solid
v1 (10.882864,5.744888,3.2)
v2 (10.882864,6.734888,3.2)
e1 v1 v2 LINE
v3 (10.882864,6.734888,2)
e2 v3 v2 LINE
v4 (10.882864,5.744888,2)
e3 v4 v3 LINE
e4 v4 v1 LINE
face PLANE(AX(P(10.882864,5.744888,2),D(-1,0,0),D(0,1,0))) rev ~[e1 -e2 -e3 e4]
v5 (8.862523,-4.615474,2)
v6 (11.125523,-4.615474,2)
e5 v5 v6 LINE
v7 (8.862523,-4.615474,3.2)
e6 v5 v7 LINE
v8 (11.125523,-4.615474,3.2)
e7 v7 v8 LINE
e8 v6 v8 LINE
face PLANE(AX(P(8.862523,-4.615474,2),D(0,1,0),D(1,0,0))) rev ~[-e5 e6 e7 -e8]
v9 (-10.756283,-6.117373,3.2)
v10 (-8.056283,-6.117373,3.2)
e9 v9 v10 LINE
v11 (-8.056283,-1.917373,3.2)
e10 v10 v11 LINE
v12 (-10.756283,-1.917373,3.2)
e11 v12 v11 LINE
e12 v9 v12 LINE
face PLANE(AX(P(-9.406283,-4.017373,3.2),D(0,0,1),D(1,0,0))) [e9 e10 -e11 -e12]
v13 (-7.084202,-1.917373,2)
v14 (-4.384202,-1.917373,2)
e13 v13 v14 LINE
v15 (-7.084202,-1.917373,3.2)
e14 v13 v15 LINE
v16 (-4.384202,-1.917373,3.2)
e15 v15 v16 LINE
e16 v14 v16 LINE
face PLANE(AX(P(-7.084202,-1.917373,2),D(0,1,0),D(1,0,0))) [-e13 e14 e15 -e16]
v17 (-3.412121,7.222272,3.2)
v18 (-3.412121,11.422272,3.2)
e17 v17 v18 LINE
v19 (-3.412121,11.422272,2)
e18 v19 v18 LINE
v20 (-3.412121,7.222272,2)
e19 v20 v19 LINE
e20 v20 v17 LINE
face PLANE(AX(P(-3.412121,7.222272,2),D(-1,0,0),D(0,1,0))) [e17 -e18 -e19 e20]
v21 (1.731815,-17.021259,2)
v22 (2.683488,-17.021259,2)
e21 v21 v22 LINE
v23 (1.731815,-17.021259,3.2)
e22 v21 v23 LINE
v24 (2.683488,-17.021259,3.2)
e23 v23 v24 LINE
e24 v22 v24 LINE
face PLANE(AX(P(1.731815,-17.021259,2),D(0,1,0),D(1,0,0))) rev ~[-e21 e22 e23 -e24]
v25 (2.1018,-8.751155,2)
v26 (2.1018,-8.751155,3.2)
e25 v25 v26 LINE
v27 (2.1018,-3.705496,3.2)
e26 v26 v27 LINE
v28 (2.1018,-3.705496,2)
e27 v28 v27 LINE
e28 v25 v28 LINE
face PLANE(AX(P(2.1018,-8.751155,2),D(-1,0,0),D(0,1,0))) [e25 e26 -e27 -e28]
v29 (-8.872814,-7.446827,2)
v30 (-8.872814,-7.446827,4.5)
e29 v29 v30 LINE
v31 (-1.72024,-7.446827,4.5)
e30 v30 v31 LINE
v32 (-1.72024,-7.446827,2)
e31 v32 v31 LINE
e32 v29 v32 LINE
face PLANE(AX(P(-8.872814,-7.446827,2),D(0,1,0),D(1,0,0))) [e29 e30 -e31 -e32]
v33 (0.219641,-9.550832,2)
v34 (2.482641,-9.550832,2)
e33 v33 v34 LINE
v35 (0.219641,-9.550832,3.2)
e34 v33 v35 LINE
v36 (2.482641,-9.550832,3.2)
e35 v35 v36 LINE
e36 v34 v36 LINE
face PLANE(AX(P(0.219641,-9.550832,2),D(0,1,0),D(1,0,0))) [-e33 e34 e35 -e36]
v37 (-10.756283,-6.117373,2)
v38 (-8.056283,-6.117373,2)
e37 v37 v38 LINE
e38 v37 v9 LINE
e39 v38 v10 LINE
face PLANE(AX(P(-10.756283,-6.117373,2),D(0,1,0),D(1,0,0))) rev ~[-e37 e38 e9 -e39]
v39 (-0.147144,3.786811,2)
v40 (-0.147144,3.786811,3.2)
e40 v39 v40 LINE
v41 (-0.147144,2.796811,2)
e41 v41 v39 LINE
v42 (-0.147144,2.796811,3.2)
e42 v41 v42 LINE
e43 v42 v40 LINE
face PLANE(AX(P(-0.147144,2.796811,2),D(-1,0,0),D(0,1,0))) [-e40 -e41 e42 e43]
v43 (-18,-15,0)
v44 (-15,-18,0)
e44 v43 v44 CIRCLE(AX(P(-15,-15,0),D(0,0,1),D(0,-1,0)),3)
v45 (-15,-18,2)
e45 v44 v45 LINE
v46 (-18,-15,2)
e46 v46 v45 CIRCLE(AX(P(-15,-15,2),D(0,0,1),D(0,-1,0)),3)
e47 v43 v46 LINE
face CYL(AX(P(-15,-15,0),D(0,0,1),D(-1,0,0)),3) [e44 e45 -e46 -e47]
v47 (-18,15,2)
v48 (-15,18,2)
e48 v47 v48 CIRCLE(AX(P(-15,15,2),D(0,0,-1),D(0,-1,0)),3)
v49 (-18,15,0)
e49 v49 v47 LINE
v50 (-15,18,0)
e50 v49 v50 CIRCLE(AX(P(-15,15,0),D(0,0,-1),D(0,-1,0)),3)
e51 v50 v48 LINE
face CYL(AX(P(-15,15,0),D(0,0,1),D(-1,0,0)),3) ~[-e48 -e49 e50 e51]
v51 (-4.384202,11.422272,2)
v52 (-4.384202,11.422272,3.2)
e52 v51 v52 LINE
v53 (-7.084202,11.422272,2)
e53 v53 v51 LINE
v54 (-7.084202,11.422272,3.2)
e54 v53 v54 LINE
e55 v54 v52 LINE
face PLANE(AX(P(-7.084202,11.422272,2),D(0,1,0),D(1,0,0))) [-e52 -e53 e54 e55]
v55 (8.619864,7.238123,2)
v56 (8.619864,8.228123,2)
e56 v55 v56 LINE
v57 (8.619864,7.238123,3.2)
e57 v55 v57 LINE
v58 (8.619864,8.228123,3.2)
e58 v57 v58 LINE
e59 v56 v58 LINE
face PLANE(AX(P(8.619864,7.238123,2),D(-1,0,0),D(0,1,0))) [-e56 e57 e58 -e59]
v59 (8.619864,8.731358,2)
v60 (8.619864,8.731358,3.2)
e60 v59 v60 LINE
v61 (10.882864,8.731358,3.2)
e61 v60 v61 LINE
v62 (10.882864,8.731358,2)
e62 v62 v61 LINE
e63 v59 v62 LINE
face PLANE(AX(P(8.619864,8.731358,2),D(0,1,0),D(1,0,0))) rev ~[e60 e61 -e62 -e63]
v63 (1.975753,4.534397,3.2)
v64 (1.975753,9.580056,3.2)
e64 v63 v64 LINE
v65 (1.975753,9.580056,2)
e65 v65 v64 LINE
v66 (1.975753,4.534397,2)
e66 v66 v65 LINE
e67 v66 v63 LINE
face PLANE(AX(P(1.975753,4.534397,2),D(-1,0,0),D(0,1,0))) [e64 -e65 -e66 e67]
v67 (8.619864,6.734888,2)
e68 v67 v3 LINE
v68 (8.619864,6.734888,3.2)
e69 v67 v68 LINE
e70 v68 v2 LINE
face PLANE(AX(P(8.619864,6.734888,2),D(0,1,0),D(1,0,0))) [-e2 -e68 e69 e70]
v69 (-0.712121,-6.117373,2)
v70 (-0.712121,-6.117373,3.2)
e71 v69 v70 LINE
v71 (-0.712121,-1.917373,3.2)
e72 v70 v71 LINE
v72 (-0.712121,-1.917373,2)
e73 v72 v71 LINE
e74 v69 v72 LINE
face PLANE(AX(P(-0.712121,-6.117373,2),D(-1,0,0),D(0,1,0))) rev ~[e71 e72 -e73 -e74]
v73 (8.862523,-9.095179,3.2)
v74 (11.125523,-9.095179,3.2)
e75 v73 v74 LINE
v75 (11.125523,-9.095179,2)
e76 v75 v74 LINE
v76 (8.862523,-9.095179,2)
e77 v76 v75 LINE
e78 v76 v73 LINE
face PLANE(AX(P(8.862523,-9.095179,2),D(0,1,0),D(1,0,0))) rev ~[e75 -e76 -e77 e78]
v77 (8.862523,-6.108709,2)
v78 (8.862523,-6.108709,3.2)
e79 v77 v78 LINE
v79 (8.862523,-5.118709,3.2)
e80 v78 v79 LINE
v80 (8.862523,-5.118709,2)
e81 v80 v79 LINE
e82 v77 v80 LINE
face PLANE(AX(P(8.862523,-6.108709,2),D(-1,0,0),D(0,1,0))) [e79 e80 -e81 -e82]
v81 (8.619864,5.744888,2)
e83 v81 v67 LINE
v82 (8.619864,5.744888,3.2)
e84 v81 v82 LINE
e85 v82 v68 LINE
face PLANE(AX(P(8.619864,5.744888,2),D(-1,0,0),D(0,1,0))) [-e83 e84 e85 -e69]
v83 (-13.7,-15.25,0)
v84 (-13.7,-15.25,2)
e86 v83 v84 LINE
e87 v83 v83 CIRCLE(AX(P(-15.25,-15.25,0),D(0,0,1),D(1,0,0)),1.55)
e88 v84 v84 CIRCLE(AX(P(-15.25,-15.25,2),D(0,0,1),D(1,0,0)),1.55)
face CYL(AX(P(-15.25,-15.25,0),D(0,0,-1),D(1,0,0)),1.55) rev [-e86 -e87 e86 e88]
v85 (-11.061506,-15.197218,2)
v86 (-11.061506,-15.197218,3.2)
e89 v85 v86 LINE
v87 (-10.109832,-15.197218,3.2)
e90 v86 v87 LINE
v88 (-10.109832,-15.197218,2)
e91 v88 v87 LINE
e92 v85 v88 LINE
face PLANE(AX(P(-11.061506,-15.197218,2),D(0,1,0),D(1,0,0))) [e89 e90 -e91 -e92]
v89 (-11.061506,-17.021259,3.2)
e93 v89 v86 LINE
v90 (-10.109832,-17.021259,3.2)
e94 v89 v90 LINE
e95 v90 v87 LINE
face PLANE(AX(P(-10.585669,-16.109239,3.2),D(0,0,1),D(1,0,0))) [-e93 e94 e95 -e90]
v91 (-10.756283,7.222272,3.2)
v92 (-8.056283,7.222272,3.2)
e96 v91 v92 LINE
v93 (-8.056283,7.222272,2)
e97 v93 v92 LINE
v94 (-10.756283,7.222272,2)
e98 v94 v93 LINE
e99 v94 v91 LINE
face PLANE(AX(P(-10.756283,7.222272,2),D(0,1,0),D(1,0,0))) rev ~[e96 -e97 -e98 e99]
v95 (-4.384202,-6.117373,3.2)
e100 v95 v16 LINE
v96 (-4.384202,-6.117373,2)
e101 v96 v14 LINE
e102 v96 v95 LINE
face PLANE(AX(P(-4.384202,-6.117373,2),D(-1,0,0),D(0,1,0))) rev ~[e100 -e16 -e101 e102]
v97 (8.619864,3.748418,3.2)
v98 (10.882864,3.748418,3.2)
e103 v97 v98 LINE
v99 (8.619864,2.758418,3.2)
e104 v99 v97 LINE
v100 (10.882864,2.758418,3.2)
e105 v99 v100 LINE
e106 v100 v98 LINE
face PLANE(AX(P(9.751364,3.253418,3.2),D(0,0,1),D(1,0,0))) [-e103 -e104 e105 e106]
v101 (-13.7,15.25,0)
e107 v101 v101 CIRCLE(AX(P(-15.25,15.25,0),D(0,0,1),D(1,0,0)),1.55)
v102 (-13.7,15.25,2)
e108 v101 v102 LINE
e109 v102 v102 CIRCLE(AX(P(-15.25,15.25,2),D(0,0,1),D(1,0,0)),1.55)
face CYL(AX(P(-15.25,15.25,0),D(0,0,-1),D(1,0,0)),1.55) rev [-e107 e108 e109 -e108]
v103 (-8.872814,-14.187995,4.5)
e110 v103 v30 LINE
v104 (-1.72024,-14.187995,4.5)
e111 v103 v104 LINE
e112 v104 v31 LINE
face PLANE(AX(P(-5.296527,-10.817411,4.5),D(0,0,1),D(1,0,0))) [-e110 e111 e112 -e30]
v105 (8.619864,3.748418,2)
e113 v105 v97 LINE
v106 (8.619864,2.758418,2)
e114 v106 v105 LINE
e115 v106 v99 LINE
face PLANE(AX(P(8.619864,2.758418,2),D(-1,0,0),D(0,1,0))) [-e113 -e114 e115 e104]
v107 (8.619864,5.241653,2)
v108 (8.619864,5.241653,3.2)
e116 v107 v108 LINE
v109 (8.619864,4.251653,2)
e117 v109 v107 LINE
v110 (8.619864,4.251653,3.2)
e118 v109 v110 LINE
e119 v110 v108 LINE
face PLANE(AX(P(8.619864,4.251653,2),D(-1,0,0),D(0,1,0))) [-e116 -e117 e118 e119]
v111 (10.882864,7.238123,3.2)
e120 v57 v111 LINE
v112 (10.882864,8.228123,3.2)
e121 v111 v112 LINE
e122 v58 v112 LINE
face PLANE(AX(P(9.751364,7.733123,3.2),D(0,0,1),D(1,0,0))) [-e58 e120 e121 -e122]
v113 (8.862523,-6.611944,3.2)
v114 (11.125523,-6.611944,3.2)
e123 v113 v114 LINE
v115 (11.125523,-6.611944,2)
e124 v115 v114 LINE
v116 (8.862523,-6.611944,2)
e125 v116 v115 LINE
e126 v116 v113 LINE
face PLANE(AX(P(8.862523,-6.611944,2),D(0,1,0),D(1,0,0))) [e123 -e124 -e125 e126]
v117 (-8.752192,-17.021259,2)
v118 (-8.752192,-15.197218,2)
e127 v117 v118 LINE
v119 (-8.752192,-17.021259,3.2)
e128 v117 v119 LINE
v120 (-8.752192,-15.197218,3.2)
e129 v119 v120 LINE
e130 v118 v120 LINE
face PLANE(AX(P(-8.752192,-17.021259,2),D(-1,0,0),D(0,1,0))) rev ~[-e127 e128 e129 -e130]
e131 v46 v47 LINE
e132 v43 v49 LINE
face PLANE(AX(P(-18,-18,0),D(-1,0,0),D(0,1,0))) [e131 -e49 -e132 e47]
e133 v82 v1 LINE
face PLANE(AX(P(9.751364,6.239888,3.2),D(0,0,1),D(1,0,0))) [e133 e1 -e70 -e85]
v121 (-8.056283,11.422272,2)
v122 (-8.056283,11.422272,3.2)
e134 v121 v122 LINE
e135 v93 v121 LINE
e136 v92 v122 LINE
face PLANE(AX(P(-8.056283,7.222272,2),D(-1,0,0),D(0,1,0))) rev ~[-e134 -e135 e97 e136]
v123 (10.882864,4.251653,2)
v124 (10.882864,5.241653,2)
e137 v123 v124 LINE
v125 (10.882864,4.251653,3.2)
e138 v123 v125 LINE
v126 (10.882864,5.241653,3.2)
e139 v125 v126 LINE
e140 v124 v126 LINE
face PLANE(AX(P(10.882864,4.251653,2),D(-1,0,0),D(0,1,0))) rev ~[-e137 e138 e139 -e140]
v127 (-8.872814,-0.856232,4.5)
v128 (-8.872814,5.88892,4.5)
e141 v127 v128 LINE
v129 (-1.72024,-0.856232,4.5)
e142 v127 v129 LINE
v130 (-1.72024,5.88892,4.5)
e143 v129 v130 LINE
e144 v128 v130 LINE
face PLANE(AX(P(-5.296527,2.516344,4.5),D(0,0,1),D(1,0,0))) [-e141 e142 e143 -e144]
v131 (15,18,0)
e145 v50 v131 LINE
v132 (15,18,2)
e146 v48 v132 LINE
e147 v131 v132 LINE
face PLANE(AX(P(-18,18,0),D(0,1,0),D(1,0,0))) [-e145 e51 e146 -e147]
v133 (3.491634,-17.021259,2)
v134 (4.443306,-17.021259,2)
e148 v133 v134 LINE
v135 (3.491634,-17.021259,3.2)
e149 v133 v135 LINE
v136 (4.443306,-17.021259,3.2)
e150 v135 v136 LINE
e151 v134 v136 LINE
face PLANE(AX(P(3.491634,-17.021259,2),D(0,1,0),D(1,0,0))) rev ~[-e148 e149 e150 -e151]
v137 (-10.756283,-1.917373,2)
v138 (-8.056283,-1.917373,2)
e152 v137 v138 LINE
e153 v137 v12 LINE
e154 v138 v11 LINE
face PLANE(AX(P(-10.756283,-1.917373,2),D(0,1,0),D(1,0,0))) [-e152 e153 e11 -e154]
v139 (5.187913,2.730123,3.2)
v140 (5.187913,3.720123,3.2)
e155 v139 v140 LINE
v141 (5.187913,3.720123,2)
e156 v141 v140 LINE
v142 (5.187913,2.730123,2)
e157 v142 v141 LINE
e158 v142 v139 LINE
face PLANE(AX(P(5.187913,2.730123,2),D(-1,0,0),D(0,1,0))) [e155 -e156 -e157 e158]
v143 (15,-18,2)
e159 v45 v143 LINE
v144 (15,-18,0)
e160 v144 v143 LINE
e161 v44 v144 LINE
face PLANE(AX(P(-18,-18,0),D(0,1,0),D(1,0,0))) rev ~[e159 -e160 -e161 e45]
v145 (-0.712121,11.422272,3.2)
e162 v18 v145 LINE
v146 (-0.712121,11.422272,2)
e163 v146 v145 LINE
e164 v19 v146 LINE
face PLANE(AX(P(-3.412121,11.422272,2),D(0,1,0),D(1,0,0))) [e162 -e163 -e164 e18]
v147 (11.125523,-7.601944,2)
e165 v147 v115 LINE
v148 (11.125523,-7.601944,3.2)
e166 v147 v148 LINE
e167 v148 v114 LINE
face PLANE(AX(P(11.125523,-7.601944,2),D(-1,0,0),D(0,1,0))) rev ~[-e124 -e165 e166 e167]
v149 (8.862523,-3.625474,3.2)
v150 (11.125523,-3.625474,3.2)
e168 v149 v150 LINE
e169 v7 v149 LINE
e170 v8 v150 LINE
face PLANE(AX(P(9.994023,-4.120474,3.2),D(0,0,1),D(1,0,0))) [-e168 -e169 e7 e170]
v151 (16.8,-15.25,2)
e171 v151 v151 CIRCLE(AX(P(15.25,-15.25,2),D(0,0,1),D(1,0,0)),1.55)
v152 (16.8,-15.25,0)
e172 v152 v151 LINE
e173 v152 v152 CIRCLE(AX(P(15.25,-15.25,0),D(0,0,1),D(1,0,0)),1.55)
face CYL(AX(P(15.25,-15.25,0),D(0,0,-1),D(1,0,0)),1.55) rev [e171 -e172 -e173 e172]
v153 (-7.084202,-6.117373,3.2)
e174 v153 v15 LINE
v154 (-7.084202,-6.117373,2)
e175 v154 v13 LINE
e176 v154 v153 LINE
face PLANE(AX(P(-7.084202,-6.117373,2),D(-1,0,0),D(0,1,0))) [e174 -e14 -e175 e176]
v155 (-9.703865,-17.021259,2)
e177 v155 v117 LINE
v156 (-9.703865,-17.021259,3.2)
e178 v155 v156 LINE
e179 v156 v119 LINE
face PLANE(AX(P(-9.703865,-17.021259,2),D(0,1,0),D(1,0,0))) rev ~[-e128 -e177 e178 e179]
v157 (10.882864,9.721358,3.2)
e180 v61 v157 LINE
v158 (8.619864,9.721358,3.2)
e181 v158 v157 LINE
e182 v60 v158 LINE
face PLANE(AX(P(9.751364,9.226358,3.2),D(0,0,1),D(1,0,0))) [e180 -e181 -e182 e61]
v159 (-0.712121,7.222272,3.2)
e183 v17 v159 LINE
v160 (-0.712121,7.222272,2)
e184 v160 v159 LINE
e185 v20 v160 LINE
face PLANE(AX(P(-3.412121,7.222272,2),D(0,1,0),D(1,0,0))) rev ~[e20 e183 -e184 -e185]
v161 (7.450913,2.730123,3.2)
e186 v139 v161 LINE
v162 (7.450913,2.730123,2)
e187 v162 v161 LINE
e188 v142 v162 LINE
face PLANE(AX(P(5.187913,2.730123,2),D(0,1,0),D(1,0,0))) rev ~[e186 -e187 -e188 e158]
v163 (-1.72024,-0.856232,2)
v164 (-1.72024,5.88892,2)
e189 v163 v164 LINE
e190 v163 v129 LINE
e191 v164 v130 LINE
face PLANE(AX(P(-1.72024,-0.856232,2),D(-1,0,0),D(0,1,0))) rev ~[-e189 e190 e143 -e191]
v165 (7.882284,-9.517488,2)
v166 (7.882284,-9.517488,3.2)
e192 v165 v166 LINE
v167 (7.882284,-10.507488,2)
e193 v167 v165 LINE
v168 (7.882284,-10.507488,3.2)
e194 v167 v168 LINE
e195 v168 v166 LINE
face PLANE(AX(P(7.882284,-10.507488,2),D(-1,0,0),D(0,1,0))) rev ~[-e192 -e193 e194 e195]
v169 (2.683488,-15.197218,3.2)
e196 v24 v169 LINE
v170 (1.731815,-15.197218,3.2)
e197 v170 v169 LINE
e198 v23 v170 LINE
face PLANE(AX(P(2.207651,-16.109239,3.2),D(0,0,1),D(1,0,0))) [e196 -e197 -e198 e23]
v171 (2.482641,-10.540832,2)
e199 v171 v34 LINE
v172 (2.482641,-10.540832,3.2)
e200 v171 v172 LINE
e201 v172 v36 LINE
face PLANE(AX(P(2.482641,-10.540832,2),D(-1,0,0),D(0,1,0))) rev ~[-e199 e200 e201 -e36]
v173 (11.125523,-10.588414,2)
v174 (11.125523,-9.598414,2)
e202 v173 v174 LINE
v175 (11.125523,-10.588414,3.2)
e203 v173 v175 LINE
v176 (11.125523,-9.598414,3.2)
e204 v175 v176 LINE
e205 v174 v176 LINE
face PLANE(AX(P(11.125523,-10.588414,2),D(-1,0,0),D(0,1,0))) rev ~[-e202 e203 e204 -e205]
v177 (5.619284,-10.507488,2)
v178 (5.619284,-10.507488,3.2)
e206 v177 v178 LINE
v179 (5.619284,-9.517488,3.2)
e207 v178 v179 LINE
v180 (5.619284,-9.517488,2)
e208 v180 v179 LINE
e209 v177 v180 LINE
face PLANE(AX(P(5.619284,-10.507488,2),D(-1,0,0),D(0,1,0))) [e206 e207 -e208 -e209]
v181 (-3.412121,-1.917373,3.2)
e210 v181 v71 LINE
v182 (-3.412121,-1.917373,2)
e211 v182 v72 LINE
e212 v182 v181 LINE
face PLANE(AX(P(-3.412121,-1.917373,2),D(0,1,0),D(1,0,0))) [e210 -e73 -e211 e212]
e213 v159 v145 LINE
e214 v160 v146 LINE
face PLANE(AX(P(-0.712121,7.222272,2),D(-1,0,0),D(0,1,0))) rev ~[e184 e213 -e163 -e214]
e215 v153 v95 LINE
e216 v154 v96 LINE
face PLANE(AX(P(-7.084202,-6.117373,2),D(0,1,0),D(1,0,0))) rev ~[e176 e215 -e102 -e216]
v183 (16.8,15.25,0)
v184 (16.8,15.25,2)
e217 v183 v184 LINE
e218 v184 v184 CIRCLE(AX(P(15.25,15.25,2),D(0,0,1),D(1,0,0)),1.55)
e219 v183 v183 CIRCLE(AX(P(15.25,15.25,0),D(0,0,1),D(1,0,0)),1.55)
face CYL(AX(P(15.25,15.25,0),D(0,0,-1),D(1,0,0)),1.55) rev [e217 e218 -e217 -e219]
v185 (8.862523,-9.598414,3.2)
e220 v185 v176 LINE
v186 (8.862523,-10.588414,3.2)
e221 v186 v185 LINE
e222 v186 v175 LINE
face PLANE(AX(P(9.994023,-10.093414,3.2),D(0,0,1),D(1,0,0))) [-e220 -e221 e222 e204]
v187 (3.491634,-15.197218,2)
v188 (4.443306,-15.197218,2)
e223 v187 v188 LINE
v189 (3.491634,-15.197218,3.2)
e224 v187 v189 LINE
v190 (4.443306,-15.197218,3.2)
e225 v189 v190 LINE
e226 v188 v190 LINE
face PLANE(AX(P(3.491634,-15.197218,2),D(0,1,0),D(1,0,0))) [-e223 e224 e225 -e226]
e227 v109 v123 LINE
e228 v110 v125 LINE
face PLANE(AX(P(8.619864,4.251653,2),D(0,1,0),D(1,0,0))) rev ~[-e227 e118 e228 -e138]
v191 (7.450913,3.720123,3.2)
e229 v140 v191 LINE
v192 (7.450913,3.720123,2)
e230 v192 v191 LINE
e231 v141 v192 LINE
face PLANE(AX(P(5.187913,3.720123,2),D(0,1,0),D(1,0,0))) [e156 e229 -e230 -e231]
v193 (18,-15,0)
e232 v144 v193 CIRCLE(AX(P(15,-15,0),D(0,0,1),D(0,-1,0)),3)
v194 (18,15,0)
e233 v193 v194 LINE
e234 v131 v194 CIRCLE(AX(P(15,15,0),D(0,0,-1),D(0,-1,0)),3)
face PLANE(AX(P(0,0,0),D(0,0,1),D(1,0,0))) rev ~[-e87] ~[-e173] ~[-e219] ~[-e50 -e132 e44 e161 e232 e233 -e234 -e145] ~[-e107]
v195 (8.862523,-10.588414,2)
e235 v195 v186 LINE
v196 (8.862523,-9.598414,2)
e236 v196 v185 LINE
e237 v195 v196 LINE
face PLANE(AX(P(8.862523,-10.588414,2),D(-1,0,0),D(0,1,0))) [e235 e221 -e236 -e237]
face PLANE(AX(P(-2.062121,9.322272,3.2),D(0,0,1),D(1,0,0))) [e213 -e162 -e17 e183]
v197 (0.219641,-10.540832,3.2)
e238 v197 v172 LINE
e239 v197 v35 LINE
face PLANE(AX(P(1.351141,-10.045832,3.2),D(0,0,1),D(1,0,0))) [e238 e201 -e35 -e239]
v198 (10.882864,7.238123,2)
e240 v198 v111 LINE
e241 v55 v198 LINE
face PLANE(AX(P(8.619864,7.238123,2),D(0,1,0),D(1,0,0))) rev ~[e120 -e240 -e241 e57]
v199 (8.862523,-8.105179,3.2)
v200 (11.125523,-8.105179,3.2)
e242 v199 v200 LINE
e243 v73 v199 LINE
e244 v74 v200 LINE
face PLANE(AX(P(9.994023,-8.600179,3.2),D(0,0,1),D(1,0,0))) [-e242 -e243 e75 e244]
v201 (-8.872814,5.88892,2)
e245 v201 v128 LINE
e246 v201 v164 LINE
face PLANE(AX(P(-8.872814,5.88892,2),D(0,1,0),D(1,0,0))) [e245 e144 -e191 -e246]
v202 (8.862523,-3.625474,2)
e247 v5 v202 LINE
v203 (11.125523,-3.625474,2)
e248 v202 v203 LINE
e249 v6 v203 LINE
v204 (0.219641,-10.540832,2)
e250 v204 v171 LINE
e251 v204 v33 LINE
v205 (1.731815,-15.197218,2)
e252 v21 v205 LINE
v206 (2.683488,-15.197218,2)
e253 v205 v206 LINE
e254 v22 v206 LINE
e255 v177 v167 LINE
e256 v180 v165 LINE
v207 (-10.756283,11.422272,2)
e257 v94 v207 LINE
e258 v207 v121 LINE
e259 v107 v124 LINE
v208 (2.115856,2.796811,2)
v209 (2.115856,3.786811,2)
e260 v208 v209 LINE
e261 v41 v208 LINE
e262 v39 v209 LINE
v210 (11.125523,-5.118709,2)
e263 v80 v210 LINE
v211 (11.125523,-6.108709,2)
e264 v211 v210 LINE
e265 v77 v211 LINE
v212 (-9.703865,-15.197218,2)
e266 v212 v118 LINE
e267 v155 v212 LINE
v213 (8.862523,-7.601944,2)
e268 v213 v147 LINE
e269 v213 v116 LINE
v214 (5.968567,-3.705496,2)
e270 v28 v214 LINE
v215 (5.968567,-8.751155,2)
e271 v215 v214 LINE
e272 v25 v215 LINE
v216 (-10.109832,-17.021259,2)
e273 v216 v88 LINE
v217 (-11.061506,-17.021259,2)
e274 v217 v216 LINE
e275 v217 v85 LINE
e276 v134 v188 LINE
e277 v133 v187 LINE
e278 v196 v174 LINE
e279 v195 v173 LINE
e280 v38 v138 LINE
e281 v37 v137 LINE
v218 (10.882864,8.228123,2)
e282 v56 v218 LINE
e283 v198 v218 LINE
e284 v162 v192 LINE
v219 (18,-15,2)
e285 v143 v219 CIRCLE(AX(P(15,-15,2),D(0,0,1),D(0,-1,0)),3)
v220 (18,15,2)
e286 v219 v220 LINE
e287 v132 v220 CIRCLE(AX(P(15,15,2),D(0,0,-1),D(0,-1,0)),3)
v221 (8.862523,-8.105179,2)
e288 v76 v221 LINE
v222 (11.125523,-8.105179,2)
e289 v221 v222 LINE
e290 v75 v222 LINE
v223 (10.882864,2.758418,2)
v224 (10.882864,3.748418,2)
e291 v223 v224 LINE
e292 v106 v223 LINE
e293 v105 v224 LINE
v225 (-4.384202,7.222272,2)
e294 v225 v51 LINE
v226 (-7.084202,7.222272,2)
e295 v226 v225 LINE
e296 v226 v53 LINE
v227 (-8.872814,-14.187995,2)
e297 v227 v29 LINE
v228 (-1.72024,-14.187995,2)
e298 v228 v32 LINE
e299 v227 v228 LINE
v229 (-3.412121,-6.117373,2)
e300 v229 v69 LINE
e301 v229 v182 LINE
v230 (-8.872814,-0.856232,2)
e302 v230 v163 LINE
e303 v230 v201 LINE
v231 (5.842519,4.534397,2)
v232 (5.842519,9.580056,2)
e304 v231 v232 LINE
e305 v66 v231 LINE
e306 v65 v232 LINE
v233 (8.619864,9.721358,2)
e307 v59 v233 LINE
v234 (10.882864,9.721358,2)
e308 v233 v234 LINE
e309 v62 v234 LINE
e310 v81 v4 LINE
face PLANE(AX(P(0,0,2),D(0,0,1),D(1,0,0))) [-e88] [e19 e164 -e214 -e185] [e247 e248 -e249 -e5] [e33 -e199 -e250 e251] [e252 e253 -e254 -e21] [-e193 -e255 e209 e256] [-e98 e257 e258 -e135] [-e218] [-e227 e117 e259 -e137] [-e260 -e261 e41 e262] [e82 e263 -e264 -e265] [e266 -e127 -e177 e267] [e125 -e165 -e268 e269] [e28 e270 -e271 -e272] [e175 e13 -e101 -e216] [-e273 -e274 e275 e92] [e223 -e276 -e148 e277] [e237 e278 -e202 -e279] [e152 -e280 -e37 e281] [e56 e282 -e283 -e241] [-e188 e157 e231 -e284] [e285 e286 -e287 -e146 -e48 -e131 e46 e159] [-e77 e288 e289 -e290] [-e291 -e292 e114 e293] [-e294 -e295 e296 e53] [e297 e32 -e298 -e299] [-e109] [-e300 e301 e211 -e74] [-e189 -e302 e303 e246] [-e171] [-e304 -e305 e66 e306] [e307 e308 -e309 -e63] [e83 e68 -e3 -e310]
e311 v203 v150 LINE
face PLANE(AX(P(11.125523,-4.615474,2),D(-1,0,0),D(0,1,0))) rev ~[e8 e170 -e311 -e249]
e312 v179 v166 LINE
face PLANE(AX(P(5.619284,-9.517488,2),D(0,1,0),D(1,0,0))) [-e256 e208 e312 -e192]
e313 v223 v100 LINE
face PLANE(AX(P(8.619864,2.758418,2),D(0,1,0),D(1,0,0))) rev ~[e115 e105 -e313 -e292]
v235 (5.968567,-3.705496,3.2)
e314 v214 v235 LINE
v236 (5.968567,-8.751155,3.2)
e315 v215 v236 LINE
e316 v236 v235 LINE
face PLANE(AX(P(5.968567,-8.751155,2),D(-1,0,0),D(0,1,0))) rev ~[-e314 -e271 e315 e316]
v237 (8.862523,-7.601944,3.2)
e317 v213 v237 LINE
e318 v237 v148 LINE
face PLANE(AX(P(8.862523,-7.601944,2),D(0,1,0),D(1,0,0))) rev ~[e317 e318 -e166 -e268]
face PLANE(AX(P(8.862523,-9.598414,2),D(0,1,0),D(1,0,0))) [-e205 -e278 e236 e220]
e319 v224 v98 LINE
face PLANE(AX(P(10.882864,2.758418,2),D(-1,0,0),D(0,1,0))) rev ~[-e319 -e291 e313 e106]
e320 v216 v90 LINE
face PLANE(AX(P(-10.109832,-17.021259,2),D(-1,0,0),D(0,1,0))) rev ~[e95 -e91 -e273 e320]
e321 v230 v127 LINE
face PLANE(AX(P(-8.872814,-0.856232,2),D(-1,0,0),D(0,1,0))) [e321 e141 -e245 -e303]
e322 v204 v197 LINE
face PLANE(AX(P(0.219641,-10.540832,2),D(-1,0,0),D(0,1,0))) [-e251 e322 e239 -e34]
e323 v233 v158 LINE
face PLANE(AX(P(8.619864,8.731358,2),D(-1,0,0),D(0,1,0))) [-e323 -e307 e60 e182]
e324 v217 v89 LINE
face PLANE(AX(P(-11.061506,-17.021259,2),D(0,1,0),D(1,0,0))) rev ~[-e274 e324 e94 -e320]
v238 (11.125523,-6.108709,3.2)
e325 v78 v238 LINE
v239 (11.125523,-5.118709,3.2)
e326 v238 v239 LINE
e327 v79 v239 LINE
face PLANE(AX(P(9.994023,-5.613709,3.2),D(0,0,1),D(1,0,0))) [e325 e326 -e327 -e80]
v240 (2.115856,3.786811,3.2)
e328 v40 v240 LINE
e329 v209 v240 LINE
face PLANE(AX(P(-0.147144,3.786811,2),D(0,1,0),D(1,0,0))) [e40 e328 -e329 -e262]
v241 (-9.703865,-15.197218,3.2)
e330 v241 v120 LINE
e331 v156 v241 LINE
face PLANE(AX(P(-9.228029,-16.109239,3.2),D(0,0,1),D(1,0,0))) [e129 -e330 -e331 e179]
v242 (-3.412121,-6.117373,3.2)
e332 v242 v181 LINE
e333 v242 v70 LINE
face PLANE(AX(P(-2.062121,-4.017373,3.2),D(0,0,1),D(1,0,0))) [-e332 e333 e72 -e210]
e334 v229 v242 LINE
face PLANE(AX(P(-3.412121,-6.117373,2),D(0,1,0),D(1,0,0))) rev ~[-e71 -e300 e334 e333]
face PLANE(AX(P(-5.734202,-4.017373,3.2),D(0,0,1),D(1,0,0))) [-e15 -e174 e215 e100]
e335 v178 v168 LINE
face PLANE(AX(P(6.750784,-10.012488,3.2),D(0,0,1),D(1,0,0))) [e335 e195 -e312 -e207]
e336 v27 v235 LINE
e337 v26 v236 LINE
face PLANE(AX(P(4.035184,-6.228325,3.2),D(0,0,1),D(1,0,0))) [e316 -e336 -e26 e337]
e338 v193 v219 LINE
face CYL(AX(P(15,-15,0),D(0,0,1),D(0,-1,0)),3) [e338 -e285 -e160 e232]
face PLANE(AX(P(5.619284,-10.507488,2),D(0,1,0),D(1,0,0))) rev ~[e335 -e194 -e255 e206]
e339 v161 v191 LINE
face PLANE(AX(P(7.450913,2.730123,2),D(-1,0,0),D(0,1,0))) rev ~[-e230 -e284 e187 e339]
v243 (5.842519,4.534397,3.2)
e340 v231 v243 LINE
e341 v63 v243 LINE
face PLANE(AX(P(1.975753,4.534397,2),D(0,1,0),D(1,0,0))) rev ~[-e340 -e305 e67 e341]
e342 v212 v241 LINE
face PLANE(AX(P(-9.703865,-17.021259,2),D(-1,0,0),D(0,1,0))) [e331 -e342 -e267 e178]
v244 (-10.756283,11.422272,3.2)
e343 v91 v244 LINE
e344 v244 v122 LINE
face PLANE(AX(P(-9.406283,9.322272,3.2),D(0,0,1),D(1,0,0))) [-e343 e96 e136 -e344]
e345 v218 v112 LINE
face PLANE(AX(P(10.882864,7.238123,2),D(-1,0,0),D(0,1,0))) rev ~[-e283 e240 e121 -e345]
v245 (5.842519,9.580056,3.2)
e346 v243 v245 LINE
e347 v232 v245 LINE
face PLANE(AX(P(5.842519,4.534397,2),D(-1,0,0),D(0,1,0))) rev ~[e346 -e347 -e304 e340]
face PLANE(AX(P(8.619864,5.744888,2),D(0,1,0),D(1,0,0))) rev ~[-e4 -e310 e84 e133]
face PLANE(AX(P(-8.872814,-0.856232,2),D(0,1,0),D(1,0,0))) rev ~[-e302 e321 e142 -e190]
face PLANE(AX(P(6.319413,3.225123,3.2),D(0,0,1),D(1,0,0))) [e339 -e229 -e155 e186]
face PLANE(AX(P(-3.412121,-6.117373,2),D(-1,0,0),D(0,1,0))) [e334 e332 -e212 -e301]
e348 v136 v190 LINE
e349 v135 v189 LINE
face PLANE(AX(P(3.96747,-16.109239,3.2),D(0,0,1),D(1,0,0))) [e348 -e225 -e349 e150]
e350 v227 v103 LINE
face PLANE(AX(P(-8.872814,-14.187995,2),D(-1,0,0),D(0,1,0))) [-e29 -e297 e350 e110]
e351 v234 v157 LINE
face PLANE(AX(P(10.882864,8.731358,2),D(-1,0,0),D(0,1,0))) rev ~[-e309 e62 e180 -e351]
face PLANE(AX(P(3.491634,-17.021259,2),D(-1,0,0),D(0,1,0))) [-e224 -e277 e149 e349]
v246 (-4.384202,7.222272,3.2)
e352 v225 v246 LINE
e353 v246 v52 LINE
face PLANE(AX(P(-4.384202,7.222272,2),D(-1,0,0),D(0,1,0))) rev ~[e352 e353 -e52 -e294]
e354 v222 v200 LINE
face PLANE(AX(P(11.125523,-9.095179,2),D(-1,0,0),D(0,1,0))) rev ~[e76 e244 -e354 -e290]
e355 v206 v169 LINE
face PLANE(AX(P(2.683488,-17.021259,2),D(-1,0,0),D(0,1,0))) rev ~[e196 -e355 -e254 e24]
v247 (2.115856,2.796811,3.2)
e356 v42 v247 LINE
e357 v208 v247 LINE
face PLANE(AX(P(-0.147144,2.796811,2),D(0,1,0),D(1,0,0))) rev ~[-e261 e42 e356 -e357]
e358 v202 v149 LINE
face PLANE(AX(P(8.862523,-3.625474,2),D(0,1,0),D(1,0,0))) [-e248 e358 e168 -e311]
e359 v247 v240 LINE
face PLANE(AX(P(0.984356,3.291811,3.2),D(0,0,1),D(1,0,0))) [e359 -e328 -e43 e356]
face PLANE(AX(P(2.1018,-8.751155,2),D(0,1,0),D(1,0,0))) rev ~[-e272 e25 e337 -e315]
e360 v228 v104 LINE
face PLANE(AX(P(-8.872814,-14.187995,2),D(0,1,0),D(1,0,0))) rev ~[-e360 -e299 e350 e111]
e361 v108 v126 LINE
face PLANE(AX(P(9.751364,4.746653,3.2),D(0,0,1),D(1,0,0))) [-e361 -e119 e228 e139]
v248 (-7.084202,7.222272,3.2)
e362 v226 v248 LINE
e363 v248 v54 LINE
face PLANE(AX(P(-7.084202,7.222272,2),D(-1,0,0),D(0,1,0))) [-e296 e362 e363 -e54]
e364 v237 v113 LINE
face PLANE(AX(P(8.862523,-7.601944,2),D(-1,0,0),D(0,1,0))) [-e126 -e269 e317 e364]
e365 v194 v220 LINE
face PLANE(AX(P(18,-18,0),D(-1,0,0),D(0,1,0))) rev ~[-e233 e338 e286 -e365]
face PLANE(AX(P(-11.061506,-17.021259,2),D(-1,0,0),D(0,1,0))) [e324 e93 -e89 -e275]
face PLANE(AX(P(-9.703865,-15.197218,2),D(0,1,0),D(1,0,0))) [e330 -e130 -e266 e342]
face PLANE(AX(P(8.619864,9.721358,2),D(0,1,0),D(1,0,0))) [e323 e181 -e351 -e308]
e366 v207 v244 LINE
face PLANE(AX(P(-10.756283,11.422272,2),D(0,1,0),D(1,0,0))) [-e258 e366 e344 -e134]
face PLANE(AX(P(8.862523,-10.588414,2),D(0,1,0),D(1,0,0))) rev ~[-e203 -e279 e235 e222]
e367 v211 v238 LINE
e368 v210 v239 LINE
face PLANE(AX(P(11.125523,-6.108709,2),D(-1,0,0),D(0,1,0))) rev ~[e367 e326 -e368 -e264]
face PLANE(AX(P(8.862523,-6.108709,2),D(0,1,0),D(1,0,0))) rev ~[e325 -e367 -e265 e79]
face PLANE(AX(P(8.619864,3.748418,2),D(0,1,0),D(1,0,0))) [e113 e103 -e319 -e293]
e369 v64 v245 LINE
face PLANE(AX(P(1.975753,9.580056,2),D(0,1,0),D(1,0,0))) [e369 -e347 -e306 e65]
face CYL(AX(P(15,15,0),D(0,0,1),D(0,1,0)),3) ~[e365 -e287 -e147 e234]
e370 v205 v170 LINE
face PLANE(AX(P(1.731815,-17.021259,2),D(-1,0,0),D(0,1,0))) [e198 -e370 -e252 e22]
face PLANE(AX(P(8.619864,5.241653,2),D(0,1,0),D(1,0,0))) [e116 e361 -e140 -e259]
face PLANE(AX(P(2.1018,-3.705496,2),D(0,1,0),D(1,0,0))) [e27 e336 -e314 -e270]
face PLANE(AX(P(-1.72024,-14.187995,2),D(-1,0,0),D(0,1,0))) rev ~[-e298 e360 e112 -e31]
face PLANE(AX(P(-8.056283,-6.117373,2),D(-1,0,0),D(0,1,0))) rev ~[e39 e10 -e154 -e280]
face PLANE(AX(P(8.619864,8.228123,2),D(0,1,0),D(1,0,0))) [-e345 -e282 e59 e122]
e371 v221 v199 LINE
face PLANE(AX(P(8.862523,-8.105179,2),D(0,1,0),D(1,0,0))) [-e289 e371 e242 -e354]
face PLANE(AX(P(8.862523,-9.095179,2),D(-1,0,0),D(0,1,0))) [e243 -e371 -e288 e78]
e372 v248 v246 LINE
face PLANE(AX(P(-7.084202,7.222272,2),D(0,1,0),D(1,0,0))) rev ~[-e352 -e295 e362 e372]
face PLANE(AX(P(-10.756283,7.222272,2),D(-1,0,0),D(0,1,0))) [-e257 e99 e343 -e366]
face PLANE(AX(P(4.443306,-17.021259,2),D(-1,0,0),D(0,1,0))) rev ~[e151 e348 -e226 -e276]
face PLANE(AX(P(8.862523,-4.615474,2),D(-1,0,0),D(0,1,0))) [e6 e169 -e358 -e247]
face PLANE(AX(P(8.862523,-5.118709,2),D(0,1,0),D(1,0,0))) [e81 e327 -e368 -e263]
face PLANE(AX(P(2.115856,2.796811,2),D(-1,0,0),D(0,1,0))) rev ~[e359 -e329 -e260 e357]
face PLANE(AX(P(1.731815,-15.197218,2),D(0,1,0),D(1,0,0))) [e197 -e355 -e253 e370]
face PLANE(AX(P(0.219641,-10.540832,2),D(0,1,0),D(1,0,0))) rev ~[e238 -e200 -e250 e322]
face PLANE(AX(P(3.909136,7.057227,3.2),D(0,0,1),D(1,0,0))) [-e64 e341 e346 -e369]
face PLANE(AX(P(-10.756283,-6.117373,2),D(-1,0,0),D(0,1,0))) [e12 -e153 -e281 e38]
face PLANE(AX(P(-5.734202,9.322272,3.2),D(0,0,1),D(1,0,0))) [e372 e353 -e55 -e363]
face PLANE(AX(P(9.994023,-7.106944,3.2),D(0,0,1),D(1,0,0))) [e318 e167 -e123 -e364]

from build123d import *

# Parameters (mm, degrees)
F0_W     = 36
F0_H     = 36
F0_R     = 1.55
F1_DEPTH = 2
F2_W     = 2.7
F2_H     = 4.2
F2_W_2   = 3.866767
F2_H_2   = 5.045659
F2_W_3   = 2.263
F2_H_3   = 0.99
F2_W_4   = 0.951673
F2_H_4   = 1.824041
F2_W_5   = 0.951672
F3_DEPTH = 1.2
F4_W     = 7.152574
F4_H     = 6.745152
F4_H_2   = 6.741168
F5_DEPTH = 2.5
F6_R     = 3


with BuildPart() as f1:
    # F0 (on Top) → F1 (new body)
    with BuildSketch(Plane.XY):
        Rectangle(F0_W, F0_H)
        with Locations((-15.25, -15.25)):
            Circle(F0_R, mode=Mode.SUBTRACT)
        with Locations((15.25, -15.25)):
            Circle(F0_R, mode=Mode.SUBTRACT)
        with Locations((-15.25, 15.25)):
            Circle(F0_R, mode=Mode.SUBTRACT)
        with Locations((15.25, 15.25)):
            Circle(F0_R, mode=Mode.SUBTRACT)
    extrude(amount=F1_DEPTH)

    # F2 (on face) → F3 (join)
    with BuildSketch(Plane.XY.offset(2)):
        with Locations((-9.406283, 9.322272)):
            Rectangle(F2_W, F2_H)
        with Locations((-9.406283, -4.017373)):
            Rectangle(F2_W, F2_H)
        with Locations((-5.734202, 9.322272)):
            Rectangle(F2_W, F2_H)
        with Locations((-5.734202, -4.017373)):
            Rectangle(F2_W, F2_H)
        with Locations((-2.062121, 9.322272)):
            Rectangle(F2_W, F2_H)
        with Locations((-2.062121, -4.017373)):
            Rectangle(F2_W, F2_H)
        with Locations((3.909136, 7.057227)):
            Rectangle(F2_W_2, F2_H_2)
        with Locations((4.035184, -6.228325)):
            Rectangle(F2_W_2, F2_H_2)
        with Locations((9.751364, 9.226358)):
            Rectangle(F2_W_3, F2_H_3)
        with Locations((9.751364, 7.733123)):
            Rectangle(F2_W_3, F2_H_3)
        with Locations((9.751364, 6.239888)):
            Rectangle(F2_W_3, F2_H_3)
        with Locations((9.751364, 4.746653)):
            Rectangle(F2_W_3, F2_H_3)
        with Locations((9.751364, 3.253418)):
            Rectangle(F2_W_3, F2_H_3)
        with Locations((9.994023, -4.120474)):
            Rectangle(F2_W_3, F2_H_3)
        with Locations((9.994023, -5.613709)):
            Rectangle(F2_W_3, F2_H_3)
        with Locations((9.994023, -7.106944)):
            Rectangle(F2_W_3, F2_H_3)
        with Locations((9.994023, -8.600179)):
            Rectangle(F2_W_3, F2_H_3)
        with Locations((9.994023, -10.093414)):
            Rectangle(F2_W_3, F2_H_3)
        with Locations((0.984356, 3.291811)):
            Rectangle(F2_W_3, F2_H_3)
        with Locations((6.319413, 3.225123)):
            Rectangle(F2_W_3, F2_H_3)
        with Locations((1.351141, -10.045832)):
            Rectangle(F2_W_3, F2_H_3)
        with Locations((6.750784, -10.012488)):
            Rectangle(F2_W_3, F2_H_3)
        with Locations((-10.585669, -16.109239)):
            Rectangle(F2_W_4, F2_H_4)
        with Locations((-9.228029, -16.109239)):
            Rectangle(F2_W_4, F2_H_4)
        with Locations((2.207651, -16.109239)):
            Rectangle(F2_W_4, F2_H_4)
        with Locations((3.96747, -16.109239)):
            Rectangle(F2_W_5, F2_H_4)
    extrude(amount=F3_DEPTH)

    # F4 (on face) → F5 (join)
    with BuildSketch(Plane.XY.offset(2)):
        with Locations((-5.296527, 2.516344)):
            Rectangle(F4_W, F4_H)
        with Locations((-5.296527, -10.817411)):
            Rectangle(F4_W, F4_H_2)
    extrude(amount=F5_DEPTH)

    # F6
    f6_edges = [f1.edges().sort_by_distance(p)[0] for p in [
        (-18, 18, 1),
        (-18, -18, 1),
        (18, -18, 1),
        (18, 18, 1),
    ]]
    fillet(f6_edges, radius=F6_R)


solid = f1.part
